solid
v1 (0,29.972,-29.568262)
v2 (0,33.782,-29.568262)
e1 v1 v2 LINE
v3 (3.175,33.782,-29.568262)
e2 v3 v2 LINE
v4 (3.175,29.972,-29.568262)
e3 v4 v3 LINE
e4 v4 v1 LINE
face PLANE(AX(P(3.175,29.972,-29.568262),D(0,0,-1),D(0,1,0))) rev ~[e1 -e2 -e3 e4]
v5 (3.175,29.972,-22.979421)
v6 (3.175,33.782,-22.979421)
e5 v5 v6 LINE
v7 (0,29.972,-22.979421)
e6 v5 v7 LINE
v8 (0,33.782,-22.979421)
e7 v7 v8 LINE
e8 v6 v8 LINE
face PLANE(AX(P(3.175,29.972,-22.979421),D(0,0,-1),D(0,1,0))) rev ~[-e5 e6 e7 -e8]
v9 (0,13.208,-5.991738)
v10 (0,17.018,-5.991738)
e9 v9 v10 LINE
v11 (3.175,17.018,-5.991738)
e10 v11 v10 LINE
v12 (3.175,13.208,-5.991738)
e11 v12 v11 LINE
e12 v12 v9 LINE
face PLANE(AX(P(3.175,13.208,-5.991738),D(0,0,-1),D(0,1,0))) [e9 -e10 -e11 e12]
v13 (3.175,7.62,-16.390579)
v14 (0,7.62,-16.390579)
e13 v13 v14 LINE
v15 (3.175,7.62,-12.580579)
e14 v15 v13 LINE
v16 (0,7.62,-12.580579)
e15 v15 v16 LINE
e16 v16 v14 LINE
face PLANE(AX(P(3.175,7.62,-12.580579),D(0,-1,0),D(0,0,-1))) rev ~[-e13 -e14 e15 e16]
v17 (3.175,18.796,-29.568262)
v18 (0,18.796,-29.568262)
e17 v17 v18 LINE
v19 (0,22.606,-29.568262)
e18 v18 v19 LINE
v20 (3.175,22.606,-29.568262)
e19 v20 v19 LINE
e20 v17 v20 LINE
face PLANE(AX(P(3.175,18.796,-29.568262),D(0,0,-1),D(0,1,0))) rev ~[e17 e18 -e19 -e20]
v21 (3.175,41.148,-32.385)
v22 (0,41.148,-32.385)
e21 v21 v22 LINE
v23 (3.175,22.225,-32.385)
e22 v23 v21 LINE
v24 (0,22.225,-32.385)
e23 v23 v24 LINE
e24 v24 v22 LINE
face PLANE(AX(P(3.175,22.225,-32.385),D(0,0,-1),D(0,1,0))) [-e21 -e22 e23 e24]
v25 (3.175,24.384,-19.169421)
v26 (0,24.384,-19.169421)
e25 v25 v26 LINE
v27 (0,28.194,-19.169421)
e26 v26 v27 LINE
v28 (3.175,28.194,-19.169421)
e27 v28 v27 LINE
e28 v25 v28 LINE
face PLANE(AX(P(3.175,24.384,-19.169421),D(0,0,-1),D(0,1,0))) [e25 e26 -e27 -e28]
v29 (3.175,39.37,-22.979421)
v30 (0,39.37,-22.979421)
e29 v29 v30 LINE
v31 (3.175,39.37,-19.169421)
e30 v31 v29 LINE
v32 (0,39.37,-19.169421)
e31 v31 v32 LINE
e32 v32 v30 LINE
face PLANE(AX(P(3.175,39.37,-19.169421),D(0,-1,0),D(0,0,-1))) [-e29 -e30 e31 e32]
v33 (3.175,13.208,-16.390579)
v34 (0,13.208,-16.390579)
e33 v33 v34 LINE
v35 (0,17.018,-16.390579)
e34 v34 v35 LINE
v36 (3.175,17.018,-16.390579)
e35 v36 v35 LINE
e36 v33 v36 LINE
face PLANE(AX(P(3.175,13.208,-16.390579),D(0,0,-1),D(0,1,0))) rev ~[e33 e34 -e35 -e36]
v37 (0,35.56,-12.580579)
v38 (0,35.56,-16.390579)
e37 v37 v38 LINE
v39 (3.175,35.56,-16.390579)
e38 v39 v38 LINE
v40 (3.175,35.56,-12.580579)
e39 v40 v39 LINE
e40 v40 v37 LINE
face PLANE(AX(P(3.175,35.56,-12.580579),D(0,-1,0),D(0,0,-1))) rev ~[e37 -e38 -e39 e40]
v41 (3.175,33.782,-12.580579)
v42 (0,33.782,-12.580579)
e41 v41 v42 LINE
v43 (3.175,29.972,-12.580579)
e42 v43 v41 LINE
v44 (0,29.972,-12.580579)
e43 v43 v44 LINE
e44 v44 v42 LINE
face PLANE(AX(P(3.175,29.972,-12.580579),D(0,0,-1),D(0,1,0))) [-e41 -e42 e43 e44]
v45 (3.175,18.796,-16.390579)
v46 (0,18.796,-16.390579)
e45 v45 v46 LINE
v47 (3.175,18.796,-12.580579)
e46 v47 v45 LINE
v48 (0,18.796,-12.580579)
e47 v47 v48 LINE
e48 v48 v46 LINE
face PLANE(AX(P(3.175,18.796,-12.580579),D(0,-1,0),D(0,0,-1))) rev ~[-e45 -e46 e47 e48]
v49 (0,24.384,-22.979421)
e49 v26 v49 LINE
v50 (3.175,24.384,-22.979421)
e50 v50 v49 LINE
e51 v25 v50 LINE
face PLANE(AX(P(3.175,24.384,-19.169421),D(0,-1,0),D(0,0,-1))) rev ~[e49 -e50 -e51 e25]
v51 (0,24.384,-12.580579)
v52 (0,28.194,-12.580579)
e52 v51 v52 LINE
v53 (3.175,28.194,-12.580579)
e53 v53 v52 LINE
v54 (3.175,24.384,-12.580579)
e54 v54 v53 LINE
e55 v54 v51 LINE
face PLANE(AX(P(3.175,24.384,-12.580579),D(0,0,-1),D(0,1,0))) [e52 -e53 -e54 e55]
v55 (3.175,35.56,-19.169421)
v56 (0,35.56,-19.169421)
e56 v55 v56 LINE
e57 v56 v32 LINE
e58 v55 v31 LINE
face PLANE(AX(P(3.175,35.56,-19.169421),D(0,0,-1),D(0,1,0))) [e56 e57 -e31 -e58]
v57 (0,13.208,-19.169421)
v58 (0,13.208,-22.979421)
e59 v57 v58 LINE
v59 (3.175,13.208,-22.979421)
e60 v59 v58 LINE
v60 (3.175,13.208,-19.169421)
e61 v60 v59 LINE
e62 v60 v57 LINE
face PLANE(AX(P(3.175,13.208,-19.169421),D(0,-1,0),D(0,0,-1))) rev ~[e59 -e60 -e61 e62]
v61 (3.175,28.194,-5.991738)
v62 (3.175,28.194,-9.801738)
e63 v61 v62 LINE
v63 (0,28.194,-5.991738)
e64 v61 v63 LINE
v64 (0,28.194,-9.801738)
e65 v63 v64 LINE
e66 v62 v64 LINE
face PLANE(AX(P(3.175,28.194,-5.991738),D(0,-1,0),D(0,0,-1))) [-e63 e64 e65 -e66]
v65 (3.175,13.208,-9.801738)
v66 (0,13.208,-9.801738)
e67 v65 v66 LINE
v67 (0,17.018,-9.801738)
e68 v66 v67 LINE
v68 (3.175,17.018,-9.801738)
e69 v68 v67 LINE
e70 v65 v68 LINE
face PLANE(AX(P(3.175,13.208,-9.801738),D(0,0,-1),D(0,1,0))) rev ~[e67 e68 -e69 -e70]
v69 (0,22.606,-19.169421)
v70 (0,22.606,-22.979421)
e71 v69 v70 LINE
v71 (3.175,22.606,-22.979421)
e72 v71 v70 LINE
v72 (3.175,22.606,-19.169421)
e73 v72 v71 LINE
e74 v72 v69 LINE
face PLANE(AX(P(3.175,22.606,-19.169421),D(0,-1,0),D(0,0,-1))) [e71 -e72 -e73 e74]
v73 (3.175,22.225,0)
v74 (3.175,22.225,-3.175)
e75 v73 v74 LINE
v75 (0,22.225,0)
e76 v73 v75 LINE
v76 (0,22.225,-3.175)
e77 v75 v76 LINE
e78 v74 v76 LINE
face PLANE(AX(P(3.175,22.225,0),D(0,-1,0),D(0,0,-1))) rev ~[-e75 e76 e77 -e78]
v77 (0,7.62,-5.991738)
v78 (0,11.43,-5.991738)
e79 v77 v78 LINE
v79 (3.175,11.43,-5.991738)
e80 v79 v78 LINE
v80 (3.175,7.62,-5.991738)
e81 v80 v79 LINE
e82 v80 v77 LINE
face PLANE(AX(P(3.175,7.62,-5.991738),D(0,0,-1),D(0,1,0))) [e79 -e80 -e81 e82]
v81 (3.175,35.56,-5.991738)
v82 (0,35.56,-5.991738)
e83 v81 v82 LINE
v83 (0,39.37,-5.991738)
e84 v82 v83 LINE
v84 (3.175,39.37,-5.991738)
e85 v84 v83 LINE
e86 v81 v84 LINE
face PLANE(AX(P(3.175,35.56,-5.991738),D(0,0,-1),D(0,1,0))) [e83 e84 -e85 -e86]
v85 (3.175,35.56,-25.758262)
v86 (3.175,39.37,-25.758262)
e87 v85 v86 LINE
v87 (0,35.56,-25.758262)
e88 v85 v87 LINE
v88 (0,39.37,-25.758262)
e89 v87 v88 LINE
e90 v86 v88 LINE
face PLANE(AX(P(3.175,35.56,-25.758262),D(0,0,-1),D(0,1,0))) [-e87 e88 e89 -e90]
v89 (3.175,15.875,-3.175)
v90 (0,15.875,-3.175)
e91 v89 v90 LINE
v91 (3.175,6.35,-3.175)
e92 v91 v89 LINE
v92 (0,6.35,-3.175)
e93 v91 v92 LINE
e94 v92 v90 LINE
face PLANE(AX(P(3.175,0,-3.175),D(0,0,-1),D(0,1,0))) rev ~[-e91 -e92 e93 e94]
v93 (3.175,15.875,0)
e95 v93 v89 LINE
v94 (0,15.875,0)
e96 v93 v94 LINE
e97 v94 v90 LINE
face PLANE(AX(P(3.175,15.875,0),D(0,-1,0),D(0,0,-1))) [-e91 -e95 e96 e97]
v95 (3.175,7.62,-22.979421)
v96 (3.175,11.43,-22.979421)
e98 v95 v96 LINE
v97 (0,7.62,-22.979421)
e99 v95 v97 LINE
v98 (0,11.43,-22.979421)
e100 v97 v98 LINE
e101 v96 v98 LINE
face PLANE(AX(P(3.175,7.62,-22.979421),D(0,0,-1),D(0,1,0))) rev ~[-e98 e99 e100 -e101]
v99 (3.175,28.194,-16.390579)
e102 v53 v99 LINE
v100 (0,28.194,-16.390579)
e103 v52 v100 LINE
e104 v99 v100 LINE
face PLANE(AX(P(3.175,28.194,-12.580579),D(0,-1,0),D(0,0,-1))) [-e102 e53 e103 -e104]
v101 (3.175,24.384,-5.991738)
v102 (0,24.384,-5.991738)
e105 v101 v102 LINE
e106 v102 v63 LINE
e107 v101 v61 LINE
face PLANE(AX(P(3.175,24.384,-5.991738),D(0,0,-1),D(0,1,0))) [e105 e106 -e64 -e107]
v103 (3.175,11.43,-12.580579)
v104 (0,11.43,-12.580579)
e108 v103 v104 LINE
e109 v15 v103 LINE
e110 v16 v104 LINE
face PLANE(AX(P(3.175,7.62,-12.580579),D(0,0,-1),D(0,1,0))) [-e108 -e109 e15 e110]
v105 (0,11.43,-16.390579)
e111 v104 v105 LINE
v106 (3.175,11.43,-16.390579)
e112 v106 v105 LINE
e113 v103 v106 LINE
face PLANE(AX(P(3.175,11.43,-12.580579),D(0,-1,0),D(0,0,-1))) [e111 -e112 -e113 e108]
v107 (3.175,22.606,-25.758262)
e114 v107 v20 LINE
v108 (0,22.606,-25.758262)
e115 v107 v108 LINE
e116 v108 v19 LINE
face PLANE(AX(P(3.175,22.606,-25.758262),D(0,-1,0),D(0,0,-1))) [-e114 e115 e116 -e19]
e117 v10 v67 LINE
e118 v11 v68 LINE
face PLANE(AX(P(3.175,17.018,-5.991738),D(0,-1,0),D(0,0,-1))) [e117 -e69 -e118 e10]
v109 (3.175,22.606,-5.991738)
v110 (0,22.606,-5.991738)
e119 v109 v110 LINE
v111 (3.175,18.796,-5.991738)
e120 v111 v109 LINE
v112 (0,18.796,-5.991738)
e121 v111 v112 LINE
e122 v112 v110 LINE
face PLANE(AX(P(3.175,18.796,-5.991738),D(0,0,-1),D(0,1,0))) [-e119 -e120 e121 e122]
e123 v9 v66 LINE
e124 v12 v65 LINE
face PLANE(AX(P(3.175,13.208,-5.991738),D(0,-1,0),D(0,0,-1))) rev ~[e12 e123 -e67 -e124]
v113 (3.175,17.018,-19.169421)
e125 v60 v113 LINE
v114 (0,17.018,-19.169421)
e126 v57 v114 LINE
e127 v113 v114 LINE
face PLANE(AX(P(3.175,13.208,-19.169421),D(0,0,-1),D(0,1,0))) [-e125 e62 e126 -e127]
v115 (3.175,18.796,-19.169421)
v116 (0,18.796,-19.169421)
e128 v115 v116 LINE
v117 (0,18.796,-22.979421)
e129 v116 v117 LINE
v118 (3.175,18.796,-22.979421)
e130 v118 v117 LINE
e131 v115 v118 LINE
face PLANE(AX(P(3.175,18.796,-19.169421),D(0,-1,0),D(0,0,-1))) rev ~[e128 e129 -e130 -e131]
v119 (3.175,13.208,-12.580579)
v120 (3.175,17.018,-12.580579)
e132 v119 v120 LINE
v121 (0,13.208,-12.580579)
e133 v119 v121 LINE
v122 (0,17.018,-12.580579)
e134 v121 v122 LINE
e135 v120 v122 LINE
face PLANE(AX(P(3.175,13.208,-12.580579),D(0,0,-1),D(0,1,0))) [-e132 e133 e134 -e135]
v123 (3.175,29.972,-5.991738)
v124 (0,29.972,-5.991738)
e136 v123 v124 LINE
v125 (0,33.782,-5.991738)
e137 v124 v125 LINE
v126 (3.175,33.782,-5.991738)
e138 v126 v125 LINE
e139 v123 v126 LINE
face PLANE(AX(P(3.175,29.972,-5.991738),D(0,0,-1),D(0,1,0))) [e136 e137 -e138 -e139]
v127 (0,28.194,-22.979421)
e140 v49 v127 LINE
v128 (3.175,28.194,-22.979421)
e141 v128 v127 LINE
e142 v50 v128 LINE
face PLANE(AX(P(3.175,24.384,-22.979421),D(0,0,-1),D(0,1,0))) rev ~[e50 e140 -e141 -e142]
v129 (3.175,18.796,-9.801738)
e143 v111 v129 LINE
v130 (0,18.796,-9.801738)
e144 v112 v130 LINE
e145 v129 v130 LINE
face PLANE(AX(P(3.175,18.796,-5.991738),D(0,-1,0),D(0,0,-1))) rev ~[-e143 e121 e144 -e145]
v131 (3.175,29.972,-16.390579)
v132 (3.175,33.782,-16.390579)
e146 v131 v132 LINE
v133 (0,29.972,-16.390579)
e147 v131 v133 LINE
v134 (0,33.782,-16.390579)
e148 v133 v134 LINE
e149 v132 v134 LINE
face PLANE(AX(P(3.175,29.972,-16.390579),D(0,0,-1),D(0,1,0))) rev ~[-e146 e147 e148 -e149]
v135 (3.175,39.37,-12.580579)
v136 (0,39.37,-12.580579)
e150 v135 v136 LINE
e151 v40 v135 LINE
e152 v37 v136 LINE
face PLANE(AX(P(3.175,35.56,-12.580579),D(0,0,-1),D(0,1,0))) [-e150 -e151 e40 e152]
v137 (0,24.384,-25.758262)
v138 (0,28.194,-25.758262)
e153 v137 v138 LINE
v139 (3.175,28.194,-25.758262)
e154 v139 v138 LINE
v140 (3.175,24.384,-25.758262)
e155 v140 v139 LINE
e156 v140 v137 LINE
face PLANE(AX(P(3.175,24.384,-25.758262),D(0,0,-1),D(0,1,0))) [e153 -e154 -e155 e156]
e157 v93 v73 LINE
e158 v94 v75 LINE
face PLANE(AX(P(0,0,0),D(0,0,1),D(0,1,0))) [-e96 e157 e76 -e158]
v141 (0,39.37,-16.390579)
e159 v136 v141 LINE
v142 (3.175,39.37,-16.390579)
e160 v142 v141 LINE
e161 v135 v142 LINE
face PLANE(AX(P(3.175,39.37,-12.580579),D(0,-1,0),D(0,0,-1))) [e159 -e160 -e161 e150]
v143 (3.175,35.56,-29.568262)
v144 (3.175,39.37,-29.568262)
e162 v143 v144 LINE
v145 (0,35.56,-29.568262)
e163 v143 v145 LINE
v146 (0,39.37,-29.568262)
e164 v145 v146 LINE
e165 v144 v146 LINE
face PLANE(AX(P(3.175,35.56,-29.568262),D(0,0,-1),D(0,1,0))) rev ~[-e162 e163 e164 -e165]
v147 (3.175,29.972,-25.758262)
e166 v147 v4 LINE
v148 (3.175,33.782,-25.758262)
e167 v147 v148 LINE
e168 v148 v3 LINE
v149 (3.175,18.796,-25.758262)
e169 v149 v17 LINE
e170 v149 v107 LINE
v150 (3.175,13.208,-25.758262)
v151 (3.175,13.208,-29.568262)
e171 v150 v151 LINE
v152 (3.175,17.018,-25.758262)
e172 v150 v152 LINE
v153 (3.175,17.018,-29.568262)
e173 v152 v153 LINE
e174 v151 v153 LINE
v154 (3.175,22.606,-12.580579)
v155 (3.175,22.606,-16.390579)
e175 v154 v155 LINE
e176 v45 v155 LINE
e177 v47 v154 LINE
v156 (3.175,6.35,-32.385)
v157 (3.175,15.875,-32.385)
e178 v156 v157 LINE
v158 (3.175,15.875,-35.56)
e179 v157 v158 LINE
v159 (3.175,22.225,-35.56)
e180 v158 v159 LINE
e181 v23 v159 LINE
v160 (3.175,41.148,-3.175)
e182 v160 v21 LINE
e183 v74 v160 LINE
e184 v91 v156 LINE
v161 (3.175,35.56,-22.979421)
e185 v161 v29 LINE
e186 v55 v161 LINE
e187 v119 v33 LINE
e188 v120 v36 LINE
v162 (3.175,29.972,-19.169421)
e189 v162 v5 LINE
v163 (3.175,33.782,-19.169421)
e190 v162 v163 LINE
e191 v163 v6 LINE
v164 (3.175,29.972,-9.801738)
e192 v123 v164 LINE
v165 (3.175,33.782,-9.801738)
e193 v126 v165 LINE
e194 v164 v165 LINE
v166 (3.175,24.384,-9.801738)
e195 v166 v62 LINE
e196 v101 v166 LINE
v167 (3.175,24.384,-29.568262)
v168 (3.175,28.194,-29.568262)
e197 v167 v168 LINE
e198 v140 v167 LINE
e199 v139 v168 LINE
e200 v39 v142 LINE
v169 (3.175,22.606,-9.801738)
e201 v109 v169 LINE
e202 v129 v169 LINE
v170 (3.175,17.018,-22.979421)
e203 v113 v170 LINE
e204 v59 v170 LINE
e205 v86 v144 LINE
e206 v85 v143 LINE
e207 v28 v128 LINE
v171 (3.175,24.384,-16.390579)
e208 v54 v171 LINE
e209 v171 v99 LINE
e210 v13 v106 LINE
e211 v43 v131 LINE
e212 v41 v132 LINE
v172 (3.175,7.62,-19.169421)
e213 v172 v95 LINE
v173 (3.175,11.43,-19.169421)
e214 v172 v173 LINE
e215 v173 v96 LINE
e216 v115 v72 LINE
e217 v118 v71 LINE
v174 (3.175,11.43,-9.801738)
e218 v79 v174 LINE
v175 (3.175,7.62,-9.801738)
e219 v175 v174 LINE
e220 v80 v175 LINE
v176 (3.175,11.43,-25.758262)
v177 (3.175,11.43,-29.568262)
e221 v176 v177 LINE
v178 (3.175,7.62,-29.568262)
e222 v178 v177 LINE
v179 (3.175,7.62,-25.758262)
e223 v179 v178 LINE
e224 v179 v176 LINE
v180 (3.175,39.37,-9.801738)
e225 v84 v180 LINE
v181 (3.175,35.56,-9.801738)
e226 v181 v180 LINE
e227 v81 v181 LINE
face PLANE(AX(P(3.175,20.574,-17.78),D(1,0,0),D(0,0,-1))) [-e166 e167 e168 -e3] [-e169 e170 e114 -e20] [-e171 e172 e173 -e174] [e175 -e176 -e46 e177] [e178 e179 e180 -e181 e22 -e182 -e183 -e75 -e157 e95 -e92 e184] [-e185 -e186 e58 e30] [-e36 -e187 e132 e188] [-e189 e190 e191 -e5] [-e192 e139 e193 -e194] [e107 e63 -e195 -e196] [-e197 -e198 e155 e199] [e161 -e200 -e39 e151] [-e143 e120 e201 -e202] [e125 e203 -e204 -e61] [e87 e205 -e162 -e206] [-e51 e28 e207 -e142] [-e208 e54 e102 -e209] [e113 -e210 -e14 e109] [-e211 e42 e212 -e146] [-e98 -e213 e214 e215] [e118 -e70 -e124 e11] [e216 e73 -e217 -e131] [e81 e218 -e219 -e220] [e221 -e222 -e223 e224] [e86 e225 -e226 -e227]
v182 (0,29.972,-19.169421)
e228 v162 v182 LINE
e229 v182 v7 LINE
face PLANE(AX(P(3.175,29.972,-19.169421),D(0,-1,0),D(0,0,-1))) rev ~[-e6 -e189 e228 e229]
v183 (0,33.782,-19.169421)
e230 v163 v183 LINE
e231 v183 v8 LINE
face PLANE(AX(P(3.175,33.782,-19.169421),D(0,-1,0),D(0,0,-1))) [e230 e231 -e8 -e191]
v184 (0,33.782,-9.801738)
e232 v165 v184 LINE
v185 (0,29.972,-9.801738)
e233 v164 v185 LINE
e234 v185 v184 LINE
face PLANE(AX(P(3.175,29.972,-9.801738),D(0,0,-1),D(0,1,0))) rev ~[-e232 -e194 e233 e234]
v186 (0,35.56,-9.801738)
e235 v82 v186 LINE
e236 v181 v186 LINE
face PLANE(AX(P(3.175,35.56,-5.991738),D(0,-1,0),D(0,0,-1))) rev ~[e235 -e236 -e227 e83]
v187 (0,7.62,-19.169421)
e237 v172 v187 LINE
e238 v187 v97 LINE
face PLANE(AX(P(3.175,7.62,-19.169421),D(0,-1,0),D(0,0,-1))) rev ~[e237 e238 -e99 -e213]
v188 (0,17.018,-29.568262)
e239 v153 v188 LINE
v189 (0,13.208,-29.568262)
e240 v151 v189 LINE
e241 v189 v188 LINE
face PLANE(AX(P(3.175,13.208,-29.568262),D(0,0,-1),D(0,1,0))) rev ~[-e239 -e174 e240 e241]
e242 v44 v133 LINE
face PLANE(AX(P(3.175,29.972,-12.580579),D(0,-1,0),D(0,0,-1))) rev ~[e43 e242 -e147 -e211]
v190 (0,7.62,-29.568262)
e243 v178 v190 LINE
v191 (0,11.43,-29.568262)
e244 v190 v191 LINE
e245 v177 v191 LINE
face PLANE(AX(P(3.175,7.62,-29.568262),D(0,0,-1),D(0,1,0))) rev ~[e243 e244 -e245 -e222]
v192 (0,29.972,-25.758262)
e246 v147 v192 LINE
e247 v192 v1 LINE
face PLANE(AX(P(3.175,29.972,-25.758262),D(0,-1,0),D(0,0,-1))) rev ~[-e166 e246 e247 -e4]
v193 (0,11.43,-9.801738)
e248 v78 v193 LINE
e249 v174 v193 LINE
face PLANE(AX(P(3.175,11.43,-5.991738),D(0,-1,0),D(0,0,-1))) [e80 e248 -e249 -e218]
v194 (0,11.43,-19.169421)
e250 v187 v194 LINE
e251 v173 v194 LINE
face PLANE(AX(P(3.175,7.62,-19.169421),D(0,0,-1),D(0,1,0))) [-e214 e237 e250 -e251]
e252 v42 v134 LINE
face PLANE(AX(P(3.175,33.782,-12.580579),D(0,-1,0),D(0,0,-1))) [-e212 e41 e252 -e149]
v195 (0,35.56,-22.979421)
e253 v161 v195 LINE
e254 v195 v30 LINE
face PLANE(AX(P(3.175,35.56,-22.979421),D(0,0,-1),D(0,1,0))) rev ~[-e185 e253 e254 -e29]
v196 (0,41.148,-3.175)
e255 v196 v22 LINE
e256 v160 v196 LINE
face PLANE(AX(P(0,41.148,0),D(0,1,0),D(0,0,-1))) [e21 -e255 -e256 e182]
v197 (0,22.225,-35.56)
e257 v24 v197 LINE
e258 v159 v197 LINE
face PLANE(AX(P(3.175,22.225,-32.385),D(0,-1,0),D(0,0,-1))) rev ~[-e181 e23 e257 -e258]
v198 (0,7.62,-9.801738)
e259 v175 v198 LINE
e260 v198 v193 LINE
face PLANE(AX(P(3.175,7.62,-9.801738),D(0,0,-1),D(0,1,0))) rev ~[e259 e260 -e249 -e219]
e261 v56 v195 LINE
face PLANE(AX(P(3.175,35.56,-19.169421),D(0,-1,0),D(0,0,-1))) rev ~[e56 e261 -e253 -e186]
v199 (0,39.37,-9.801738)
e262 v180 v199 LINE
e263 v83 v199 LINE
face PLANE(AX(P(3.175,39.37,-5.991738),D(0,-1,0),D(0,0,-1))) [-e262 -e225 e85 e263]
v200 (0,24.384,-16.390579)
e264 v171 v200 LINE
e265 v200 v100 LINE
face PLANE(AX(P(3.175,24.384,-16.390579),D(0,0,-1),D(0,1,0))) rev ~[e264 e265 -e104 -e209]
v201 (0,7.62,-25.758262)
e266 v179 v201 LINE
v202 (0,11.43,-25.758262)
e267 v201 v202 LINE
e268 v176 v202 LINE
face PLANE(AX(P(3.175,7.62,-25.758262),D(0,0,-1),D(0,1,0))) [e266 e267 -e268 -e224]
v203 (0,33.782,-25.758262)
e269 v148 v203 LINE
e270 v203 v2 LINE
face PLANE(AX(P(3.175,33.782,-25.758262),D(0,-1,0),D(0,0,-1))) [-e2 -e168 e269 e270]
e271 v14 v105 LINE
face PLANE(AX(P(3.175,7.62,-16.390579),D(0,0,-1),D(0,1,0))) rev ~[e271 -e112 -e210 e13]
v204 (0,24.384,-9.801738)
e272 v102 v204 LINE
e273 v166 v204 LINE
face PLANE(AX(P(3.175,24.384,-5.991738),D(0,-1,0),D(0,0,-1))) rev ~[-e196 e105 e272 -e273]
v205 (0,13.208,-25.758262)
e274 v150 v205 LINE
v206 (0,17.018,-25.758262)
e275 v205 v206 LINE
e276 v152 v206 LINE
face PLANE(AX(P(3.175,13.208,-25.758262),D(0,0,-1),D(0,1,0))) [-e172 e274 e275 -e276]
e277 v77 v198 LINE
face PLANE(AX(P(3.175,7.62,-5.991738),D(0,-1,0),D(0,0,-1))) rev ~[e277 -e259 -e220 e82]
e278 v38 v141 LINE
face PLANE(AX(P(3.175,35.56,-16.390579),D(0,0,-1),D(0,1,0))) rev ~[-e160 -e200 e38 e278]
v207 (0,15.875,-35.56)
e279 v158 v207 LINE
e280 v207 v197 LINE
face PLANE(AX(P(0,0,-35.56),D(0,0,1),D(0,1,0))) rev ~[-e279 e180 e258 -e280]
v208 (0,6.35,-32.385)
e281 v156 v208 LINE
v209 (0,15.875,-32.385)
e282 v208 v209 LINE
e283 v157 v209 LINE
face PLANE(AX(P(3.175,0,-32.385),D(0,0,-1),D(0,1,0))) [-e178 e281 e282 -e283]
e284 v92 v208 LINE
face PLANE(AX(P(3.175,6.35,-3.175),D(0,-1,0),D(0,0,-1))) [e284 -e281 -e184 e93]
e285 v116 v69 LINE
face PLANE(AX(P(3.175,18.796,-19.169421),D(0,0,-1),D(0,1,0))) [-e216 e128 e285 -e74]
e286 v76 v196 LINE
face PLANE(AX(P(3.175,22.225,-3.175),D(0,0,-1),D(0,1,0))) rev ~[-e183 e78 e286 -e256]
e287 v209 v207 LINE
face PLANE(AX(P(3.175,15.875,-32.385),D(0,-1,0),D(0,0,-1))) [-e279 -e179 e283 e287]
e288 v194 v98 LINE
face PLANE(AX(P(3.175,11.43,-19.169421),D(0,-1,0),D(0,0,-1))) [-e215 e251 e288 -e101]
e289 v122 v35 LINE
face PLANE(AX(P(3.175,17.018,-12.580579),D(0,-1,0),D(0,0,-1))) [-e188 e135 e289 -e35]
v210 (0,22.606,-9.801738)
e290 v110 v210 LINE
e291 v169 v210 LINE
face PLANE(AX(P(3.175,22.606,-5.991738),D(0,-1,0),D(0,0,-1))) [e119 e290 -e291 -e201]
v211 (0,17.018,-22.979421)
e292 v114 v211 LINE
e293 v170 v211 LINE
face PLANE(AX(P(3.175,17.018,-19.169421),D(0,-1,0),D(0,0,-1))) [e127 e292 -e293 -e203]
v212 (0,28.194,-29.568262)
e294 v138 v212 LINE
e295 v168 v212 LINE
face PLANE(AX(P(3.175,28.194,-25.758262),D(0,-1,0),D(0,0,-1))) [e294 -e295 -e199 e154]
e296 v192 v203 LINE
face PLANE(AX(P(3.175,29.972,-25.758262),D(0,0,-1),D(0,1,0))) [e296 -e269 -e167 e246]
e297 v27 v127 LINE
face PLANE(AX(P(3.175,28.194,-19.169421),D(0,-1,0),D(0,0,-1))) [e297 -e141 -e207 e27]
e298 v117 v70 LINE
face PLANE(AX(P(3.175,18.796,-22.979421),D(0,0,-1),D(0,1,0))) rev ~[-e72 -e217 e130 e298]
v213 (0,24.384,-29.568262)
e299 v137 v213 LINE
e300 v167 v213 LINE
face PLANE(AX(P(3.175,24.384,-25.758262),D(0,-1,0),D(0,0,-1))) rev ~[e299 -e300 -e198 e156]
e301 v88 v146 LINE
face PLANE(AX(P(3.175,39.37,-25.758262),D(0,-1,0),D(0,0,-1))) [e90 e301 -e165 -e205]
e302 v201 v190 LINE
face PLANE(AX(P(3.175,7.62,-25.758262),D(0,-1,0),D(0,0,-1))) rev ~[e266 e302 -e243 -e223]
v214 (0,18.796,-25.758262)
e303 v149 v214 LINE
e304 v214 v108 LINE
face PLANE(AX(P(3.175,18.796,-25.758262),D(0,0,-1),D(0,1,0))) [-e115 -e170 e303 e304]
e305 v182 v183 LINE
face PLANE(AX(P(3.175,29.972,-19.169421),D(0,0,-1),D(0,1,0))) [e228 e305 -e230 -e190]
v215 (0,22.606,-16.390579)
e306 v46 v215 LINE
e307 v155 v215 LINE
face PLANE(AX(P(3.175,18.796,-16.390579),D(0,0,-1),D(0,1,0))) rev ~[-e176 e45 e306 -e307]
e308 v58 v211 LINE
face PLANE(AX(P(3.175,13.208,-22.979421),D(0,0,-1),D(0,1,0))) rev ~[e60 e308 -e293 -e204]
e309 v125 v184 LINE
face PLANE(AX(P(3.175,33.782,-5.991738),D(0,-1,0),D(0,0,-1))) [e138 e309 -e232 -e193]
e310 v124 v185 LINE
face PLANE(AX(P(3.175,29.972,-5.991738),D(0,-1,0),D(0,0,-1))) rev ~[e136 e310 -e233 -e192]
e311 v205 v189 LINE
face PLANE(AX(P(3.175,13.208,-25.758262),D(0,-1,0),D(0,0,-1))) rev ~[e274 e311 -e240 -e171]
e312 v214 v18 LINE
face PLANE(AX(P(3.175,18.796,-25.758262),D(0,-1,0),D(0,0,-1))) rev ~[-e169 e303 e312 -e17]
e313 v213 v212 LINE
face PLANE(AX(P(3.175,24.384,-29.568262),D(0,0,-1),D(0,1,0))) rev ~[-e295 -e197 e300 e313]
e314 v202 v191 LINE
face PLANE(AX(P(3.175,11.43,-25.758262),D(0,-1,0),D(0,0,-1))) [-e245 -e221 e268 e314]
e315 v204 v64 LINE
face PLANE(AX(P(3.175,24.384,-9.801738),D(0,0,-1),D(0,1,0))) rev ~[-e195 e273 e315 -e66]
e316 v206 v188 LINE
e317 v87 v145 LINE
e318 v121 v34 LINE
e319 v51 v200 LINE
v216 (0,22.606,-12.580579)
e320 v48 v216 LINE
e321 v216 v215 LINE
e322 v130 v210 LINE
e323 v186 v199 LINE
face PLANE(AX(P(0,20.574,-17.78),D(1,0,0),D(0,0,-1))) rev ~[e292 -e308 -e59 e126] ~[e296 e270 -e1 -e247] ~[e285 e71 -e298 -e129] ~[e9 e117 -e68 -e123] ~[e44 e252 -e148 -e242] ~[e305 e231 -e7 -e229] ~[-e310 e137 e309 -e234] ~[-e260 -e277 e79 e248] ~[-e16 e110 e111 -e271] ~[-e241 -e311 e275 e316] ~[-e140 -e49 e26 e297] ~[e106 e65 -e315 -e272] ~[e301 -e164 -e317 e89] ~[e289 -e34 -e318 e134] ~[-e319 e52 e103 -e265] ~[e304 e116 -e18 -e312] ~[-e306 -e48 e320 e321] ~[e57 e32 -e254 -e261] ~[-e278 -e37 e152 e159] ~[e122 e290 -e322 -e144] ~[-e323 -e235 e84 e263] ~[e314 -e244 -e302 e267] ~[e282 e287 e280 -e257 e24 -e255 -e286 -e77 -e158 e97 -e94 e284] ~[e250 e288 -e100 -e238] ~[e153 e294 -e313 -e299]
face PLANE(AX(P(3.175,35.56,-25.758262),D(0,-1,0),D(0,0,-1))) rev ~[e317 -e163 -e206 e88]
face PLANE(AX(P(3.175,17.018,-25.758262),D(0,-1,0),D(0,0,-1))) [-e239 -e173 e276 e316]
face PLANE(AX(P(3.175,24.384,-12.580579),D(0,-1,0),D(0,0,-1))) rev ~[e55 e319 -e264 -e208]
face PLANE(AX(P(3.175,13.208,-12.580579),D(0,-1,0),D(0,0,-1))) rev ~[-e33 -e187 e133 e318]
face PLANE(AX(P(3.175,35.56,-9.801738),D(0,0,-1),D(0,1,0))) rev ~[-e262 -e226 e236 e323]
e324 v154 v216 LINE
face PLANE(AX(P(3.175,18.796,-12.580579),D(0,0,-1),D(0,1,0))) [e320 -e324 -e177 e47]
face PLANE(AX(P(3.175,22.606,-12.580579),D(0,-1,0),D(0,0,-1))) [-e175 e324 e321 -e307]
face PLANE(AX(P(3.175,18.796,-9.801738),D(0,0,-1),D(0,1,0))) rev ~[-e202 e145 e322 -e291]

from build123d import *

# Parameters (mm, degrees)
SKETCH1_W          = 35.56
SKETCH1_H          = 41.148
EXTRUDE1_DEPTH     = 3.175
SKETCH2_W          = 3.175
SKETCH2_H          = 18.923
SKETCH2_H_2        = 15.875
CUT_EXTRUDE3_DEPTH = 4.175
SKETCH3_W          = 29.21
SKETCH3_H          = 6.35
CUT_EXTRUDE4_DEPTH = 4.175
SKETCH4_W          = 3.81
SKETCH4_H          = 3.81
CUT_EXTRUDE5_DEPTH = 4.175


with BuildPart() as part:
    # Sketch1 → Extrude1 (new body)
    with BuildSketch(Plane(origin=(0, 0, 0), x_dir=(0, 0, -1), z_dir=(1, 0, 0))):
        with Locations((17.78, 20.574)):
            Rectangle(SKETCH1_W, SKETCH1_H)
    extrude(amount=EXTRUDE1_DEPTH)

    # Sketch2 → Cut-Extrude3 (cut, through all)
    with BuildSketch(Plane(origin=(3.175, 0, 0), x_dir=(0, 0, -1), z_dir=(1, 0, 0))):
        with Locations((1.5875, 31.6865)):
            Rectangle(SKETCH2_W, SKETCH2_H)
        with Locations((33.9725, 31.6865)):
            Rectangle(SKETCH2_W, SKETCH2_H)
        with Locations((33.9725, 7.9375)):
            Rectangle(SKETCH2_W, SKETCH2_H_2)
        with Locations((1.5875, 7.9375)):
            Rectangle(SKETCH2_W, SKETCH2_H_2)
    extrude(amount=-CUT_EXTRUDE3_DEPTH, mode=Mode.SUBTRACT)

    # Sketch3 → Cut-Extrude4 (cut, through all)
    with BuildSketch(Plane(origin=(3.175, 0, 0), x_dir=(0, 0, -1), z_dir=(1, 0, 0))):
        with Locations((17.78, 3.175)):
            Rectangle(SKETCH3_W, SKETCH3_H)
    extrude(amount=-CUT_EXTRUDE4_DEPTH, mode=Mode.SUBTRACT)

    # Sketch4 → Cut-Extrude5 (cut, through all)
    with BuildSketch(Plane(origin=(3.175, 0, 0), x_dir=(0, 0, -1), z_dir=(1, 0, 0))):
        with Locations((14.485579349, 9.525)):
            Rectangle(SKETCH4_W, SKETCH4_H)
        with Locations((7.896738046, 9.525)):
            Rectangle(SKETCH4_W, SKETCH4_H)
        with Locations((21.074420651, 9.525)):
            Rectangle(SKETCH4_W, SKETCH4_H)
        with Locations((27.663261954, 9.525)):
            Rectangle(SKETCH4_W, SKETCH4_H)
        with Locations((14.485579349, 15.113)):
            Rectangle(SKETCH4_W, SKETCH4_H)
        with Locations((7.896738046, 15.113)):
            Rectangle(SKETCH4_W, SKETCH4_H)
        with Locations((21.074420651, 15.113)):
            Rectangle(SKETCH4_W, SKETCH4_H)
        with Locations((27.663261954, 15.113)):
            Rectangle(SKETCH4_W, SKETCH4_H)
        with Locations((14.485579349, 20.701)):
            Rectangle(SKETCH4_W, SKETCH4_H)
        with Locations((7.896738046, 20.701)):
            Rectangle(SKETCH4_W, SKETCH4_H)
        with Locations((21.074420651, 20.701)):
            Rectangle(SKETCH4_W, SKETCH4_H)
        with Locations((27.663261954, 20.701)):
            Rectangle(SKETCH4_W, SKETCH4_H)
        with Locations((14.485579349, 26.289)):
            Rectangle(SKETCH4_W, SKETCH4_H)
        with Locations((7.896738046, 26.289)):
            Rectangle(SKETCH4_W, SKETCH4_H)
        with Locations((21.074420651, 26.289)):
            Rectangle(SKETCH4_W, SKETCH4_H)
        with Locations((27.663261954, 26.289)):
            Rectangle(SKETCH4_W, SKETCH4_H)
        with Locations((14.485579349, 31.877)):
            Rectangle(SKETCH4_W, SKETCH4_H)
        with Locations((7.896738046, 31.877)):
            Rectangle(SKETCH4_W, SKETCH4_H)
        with Locations((21.074420651, 31.877)):
            Rectangle(SKETCH4_W, SKETCH4_H)
        with Locations((27.663261954, 31.877)):
            Rectangle(SKETCH4_W, SKETCH4_H)
        with Locations((14.485579349, 37.465)):
            Rectangle(SKETCH4_W, SKETCH4_H)
        with Locations((7.896738046, 37.465)):
            Rectangle(SKETCH4_W, SKETCH4_H)
        with Locations((21.074420651, 37.465)):
            Rectangle(SKETCH4_W, SKETCH4_H)
        with Locations((27.663261954, 37.465)):
            Rectangle(SKETCH4_W, SKETCH4_H)
    extrude(amount=-CUT_EXTRUDE5_DEPTH, mode=Mode.SUBTRACT)


solid = part.part
